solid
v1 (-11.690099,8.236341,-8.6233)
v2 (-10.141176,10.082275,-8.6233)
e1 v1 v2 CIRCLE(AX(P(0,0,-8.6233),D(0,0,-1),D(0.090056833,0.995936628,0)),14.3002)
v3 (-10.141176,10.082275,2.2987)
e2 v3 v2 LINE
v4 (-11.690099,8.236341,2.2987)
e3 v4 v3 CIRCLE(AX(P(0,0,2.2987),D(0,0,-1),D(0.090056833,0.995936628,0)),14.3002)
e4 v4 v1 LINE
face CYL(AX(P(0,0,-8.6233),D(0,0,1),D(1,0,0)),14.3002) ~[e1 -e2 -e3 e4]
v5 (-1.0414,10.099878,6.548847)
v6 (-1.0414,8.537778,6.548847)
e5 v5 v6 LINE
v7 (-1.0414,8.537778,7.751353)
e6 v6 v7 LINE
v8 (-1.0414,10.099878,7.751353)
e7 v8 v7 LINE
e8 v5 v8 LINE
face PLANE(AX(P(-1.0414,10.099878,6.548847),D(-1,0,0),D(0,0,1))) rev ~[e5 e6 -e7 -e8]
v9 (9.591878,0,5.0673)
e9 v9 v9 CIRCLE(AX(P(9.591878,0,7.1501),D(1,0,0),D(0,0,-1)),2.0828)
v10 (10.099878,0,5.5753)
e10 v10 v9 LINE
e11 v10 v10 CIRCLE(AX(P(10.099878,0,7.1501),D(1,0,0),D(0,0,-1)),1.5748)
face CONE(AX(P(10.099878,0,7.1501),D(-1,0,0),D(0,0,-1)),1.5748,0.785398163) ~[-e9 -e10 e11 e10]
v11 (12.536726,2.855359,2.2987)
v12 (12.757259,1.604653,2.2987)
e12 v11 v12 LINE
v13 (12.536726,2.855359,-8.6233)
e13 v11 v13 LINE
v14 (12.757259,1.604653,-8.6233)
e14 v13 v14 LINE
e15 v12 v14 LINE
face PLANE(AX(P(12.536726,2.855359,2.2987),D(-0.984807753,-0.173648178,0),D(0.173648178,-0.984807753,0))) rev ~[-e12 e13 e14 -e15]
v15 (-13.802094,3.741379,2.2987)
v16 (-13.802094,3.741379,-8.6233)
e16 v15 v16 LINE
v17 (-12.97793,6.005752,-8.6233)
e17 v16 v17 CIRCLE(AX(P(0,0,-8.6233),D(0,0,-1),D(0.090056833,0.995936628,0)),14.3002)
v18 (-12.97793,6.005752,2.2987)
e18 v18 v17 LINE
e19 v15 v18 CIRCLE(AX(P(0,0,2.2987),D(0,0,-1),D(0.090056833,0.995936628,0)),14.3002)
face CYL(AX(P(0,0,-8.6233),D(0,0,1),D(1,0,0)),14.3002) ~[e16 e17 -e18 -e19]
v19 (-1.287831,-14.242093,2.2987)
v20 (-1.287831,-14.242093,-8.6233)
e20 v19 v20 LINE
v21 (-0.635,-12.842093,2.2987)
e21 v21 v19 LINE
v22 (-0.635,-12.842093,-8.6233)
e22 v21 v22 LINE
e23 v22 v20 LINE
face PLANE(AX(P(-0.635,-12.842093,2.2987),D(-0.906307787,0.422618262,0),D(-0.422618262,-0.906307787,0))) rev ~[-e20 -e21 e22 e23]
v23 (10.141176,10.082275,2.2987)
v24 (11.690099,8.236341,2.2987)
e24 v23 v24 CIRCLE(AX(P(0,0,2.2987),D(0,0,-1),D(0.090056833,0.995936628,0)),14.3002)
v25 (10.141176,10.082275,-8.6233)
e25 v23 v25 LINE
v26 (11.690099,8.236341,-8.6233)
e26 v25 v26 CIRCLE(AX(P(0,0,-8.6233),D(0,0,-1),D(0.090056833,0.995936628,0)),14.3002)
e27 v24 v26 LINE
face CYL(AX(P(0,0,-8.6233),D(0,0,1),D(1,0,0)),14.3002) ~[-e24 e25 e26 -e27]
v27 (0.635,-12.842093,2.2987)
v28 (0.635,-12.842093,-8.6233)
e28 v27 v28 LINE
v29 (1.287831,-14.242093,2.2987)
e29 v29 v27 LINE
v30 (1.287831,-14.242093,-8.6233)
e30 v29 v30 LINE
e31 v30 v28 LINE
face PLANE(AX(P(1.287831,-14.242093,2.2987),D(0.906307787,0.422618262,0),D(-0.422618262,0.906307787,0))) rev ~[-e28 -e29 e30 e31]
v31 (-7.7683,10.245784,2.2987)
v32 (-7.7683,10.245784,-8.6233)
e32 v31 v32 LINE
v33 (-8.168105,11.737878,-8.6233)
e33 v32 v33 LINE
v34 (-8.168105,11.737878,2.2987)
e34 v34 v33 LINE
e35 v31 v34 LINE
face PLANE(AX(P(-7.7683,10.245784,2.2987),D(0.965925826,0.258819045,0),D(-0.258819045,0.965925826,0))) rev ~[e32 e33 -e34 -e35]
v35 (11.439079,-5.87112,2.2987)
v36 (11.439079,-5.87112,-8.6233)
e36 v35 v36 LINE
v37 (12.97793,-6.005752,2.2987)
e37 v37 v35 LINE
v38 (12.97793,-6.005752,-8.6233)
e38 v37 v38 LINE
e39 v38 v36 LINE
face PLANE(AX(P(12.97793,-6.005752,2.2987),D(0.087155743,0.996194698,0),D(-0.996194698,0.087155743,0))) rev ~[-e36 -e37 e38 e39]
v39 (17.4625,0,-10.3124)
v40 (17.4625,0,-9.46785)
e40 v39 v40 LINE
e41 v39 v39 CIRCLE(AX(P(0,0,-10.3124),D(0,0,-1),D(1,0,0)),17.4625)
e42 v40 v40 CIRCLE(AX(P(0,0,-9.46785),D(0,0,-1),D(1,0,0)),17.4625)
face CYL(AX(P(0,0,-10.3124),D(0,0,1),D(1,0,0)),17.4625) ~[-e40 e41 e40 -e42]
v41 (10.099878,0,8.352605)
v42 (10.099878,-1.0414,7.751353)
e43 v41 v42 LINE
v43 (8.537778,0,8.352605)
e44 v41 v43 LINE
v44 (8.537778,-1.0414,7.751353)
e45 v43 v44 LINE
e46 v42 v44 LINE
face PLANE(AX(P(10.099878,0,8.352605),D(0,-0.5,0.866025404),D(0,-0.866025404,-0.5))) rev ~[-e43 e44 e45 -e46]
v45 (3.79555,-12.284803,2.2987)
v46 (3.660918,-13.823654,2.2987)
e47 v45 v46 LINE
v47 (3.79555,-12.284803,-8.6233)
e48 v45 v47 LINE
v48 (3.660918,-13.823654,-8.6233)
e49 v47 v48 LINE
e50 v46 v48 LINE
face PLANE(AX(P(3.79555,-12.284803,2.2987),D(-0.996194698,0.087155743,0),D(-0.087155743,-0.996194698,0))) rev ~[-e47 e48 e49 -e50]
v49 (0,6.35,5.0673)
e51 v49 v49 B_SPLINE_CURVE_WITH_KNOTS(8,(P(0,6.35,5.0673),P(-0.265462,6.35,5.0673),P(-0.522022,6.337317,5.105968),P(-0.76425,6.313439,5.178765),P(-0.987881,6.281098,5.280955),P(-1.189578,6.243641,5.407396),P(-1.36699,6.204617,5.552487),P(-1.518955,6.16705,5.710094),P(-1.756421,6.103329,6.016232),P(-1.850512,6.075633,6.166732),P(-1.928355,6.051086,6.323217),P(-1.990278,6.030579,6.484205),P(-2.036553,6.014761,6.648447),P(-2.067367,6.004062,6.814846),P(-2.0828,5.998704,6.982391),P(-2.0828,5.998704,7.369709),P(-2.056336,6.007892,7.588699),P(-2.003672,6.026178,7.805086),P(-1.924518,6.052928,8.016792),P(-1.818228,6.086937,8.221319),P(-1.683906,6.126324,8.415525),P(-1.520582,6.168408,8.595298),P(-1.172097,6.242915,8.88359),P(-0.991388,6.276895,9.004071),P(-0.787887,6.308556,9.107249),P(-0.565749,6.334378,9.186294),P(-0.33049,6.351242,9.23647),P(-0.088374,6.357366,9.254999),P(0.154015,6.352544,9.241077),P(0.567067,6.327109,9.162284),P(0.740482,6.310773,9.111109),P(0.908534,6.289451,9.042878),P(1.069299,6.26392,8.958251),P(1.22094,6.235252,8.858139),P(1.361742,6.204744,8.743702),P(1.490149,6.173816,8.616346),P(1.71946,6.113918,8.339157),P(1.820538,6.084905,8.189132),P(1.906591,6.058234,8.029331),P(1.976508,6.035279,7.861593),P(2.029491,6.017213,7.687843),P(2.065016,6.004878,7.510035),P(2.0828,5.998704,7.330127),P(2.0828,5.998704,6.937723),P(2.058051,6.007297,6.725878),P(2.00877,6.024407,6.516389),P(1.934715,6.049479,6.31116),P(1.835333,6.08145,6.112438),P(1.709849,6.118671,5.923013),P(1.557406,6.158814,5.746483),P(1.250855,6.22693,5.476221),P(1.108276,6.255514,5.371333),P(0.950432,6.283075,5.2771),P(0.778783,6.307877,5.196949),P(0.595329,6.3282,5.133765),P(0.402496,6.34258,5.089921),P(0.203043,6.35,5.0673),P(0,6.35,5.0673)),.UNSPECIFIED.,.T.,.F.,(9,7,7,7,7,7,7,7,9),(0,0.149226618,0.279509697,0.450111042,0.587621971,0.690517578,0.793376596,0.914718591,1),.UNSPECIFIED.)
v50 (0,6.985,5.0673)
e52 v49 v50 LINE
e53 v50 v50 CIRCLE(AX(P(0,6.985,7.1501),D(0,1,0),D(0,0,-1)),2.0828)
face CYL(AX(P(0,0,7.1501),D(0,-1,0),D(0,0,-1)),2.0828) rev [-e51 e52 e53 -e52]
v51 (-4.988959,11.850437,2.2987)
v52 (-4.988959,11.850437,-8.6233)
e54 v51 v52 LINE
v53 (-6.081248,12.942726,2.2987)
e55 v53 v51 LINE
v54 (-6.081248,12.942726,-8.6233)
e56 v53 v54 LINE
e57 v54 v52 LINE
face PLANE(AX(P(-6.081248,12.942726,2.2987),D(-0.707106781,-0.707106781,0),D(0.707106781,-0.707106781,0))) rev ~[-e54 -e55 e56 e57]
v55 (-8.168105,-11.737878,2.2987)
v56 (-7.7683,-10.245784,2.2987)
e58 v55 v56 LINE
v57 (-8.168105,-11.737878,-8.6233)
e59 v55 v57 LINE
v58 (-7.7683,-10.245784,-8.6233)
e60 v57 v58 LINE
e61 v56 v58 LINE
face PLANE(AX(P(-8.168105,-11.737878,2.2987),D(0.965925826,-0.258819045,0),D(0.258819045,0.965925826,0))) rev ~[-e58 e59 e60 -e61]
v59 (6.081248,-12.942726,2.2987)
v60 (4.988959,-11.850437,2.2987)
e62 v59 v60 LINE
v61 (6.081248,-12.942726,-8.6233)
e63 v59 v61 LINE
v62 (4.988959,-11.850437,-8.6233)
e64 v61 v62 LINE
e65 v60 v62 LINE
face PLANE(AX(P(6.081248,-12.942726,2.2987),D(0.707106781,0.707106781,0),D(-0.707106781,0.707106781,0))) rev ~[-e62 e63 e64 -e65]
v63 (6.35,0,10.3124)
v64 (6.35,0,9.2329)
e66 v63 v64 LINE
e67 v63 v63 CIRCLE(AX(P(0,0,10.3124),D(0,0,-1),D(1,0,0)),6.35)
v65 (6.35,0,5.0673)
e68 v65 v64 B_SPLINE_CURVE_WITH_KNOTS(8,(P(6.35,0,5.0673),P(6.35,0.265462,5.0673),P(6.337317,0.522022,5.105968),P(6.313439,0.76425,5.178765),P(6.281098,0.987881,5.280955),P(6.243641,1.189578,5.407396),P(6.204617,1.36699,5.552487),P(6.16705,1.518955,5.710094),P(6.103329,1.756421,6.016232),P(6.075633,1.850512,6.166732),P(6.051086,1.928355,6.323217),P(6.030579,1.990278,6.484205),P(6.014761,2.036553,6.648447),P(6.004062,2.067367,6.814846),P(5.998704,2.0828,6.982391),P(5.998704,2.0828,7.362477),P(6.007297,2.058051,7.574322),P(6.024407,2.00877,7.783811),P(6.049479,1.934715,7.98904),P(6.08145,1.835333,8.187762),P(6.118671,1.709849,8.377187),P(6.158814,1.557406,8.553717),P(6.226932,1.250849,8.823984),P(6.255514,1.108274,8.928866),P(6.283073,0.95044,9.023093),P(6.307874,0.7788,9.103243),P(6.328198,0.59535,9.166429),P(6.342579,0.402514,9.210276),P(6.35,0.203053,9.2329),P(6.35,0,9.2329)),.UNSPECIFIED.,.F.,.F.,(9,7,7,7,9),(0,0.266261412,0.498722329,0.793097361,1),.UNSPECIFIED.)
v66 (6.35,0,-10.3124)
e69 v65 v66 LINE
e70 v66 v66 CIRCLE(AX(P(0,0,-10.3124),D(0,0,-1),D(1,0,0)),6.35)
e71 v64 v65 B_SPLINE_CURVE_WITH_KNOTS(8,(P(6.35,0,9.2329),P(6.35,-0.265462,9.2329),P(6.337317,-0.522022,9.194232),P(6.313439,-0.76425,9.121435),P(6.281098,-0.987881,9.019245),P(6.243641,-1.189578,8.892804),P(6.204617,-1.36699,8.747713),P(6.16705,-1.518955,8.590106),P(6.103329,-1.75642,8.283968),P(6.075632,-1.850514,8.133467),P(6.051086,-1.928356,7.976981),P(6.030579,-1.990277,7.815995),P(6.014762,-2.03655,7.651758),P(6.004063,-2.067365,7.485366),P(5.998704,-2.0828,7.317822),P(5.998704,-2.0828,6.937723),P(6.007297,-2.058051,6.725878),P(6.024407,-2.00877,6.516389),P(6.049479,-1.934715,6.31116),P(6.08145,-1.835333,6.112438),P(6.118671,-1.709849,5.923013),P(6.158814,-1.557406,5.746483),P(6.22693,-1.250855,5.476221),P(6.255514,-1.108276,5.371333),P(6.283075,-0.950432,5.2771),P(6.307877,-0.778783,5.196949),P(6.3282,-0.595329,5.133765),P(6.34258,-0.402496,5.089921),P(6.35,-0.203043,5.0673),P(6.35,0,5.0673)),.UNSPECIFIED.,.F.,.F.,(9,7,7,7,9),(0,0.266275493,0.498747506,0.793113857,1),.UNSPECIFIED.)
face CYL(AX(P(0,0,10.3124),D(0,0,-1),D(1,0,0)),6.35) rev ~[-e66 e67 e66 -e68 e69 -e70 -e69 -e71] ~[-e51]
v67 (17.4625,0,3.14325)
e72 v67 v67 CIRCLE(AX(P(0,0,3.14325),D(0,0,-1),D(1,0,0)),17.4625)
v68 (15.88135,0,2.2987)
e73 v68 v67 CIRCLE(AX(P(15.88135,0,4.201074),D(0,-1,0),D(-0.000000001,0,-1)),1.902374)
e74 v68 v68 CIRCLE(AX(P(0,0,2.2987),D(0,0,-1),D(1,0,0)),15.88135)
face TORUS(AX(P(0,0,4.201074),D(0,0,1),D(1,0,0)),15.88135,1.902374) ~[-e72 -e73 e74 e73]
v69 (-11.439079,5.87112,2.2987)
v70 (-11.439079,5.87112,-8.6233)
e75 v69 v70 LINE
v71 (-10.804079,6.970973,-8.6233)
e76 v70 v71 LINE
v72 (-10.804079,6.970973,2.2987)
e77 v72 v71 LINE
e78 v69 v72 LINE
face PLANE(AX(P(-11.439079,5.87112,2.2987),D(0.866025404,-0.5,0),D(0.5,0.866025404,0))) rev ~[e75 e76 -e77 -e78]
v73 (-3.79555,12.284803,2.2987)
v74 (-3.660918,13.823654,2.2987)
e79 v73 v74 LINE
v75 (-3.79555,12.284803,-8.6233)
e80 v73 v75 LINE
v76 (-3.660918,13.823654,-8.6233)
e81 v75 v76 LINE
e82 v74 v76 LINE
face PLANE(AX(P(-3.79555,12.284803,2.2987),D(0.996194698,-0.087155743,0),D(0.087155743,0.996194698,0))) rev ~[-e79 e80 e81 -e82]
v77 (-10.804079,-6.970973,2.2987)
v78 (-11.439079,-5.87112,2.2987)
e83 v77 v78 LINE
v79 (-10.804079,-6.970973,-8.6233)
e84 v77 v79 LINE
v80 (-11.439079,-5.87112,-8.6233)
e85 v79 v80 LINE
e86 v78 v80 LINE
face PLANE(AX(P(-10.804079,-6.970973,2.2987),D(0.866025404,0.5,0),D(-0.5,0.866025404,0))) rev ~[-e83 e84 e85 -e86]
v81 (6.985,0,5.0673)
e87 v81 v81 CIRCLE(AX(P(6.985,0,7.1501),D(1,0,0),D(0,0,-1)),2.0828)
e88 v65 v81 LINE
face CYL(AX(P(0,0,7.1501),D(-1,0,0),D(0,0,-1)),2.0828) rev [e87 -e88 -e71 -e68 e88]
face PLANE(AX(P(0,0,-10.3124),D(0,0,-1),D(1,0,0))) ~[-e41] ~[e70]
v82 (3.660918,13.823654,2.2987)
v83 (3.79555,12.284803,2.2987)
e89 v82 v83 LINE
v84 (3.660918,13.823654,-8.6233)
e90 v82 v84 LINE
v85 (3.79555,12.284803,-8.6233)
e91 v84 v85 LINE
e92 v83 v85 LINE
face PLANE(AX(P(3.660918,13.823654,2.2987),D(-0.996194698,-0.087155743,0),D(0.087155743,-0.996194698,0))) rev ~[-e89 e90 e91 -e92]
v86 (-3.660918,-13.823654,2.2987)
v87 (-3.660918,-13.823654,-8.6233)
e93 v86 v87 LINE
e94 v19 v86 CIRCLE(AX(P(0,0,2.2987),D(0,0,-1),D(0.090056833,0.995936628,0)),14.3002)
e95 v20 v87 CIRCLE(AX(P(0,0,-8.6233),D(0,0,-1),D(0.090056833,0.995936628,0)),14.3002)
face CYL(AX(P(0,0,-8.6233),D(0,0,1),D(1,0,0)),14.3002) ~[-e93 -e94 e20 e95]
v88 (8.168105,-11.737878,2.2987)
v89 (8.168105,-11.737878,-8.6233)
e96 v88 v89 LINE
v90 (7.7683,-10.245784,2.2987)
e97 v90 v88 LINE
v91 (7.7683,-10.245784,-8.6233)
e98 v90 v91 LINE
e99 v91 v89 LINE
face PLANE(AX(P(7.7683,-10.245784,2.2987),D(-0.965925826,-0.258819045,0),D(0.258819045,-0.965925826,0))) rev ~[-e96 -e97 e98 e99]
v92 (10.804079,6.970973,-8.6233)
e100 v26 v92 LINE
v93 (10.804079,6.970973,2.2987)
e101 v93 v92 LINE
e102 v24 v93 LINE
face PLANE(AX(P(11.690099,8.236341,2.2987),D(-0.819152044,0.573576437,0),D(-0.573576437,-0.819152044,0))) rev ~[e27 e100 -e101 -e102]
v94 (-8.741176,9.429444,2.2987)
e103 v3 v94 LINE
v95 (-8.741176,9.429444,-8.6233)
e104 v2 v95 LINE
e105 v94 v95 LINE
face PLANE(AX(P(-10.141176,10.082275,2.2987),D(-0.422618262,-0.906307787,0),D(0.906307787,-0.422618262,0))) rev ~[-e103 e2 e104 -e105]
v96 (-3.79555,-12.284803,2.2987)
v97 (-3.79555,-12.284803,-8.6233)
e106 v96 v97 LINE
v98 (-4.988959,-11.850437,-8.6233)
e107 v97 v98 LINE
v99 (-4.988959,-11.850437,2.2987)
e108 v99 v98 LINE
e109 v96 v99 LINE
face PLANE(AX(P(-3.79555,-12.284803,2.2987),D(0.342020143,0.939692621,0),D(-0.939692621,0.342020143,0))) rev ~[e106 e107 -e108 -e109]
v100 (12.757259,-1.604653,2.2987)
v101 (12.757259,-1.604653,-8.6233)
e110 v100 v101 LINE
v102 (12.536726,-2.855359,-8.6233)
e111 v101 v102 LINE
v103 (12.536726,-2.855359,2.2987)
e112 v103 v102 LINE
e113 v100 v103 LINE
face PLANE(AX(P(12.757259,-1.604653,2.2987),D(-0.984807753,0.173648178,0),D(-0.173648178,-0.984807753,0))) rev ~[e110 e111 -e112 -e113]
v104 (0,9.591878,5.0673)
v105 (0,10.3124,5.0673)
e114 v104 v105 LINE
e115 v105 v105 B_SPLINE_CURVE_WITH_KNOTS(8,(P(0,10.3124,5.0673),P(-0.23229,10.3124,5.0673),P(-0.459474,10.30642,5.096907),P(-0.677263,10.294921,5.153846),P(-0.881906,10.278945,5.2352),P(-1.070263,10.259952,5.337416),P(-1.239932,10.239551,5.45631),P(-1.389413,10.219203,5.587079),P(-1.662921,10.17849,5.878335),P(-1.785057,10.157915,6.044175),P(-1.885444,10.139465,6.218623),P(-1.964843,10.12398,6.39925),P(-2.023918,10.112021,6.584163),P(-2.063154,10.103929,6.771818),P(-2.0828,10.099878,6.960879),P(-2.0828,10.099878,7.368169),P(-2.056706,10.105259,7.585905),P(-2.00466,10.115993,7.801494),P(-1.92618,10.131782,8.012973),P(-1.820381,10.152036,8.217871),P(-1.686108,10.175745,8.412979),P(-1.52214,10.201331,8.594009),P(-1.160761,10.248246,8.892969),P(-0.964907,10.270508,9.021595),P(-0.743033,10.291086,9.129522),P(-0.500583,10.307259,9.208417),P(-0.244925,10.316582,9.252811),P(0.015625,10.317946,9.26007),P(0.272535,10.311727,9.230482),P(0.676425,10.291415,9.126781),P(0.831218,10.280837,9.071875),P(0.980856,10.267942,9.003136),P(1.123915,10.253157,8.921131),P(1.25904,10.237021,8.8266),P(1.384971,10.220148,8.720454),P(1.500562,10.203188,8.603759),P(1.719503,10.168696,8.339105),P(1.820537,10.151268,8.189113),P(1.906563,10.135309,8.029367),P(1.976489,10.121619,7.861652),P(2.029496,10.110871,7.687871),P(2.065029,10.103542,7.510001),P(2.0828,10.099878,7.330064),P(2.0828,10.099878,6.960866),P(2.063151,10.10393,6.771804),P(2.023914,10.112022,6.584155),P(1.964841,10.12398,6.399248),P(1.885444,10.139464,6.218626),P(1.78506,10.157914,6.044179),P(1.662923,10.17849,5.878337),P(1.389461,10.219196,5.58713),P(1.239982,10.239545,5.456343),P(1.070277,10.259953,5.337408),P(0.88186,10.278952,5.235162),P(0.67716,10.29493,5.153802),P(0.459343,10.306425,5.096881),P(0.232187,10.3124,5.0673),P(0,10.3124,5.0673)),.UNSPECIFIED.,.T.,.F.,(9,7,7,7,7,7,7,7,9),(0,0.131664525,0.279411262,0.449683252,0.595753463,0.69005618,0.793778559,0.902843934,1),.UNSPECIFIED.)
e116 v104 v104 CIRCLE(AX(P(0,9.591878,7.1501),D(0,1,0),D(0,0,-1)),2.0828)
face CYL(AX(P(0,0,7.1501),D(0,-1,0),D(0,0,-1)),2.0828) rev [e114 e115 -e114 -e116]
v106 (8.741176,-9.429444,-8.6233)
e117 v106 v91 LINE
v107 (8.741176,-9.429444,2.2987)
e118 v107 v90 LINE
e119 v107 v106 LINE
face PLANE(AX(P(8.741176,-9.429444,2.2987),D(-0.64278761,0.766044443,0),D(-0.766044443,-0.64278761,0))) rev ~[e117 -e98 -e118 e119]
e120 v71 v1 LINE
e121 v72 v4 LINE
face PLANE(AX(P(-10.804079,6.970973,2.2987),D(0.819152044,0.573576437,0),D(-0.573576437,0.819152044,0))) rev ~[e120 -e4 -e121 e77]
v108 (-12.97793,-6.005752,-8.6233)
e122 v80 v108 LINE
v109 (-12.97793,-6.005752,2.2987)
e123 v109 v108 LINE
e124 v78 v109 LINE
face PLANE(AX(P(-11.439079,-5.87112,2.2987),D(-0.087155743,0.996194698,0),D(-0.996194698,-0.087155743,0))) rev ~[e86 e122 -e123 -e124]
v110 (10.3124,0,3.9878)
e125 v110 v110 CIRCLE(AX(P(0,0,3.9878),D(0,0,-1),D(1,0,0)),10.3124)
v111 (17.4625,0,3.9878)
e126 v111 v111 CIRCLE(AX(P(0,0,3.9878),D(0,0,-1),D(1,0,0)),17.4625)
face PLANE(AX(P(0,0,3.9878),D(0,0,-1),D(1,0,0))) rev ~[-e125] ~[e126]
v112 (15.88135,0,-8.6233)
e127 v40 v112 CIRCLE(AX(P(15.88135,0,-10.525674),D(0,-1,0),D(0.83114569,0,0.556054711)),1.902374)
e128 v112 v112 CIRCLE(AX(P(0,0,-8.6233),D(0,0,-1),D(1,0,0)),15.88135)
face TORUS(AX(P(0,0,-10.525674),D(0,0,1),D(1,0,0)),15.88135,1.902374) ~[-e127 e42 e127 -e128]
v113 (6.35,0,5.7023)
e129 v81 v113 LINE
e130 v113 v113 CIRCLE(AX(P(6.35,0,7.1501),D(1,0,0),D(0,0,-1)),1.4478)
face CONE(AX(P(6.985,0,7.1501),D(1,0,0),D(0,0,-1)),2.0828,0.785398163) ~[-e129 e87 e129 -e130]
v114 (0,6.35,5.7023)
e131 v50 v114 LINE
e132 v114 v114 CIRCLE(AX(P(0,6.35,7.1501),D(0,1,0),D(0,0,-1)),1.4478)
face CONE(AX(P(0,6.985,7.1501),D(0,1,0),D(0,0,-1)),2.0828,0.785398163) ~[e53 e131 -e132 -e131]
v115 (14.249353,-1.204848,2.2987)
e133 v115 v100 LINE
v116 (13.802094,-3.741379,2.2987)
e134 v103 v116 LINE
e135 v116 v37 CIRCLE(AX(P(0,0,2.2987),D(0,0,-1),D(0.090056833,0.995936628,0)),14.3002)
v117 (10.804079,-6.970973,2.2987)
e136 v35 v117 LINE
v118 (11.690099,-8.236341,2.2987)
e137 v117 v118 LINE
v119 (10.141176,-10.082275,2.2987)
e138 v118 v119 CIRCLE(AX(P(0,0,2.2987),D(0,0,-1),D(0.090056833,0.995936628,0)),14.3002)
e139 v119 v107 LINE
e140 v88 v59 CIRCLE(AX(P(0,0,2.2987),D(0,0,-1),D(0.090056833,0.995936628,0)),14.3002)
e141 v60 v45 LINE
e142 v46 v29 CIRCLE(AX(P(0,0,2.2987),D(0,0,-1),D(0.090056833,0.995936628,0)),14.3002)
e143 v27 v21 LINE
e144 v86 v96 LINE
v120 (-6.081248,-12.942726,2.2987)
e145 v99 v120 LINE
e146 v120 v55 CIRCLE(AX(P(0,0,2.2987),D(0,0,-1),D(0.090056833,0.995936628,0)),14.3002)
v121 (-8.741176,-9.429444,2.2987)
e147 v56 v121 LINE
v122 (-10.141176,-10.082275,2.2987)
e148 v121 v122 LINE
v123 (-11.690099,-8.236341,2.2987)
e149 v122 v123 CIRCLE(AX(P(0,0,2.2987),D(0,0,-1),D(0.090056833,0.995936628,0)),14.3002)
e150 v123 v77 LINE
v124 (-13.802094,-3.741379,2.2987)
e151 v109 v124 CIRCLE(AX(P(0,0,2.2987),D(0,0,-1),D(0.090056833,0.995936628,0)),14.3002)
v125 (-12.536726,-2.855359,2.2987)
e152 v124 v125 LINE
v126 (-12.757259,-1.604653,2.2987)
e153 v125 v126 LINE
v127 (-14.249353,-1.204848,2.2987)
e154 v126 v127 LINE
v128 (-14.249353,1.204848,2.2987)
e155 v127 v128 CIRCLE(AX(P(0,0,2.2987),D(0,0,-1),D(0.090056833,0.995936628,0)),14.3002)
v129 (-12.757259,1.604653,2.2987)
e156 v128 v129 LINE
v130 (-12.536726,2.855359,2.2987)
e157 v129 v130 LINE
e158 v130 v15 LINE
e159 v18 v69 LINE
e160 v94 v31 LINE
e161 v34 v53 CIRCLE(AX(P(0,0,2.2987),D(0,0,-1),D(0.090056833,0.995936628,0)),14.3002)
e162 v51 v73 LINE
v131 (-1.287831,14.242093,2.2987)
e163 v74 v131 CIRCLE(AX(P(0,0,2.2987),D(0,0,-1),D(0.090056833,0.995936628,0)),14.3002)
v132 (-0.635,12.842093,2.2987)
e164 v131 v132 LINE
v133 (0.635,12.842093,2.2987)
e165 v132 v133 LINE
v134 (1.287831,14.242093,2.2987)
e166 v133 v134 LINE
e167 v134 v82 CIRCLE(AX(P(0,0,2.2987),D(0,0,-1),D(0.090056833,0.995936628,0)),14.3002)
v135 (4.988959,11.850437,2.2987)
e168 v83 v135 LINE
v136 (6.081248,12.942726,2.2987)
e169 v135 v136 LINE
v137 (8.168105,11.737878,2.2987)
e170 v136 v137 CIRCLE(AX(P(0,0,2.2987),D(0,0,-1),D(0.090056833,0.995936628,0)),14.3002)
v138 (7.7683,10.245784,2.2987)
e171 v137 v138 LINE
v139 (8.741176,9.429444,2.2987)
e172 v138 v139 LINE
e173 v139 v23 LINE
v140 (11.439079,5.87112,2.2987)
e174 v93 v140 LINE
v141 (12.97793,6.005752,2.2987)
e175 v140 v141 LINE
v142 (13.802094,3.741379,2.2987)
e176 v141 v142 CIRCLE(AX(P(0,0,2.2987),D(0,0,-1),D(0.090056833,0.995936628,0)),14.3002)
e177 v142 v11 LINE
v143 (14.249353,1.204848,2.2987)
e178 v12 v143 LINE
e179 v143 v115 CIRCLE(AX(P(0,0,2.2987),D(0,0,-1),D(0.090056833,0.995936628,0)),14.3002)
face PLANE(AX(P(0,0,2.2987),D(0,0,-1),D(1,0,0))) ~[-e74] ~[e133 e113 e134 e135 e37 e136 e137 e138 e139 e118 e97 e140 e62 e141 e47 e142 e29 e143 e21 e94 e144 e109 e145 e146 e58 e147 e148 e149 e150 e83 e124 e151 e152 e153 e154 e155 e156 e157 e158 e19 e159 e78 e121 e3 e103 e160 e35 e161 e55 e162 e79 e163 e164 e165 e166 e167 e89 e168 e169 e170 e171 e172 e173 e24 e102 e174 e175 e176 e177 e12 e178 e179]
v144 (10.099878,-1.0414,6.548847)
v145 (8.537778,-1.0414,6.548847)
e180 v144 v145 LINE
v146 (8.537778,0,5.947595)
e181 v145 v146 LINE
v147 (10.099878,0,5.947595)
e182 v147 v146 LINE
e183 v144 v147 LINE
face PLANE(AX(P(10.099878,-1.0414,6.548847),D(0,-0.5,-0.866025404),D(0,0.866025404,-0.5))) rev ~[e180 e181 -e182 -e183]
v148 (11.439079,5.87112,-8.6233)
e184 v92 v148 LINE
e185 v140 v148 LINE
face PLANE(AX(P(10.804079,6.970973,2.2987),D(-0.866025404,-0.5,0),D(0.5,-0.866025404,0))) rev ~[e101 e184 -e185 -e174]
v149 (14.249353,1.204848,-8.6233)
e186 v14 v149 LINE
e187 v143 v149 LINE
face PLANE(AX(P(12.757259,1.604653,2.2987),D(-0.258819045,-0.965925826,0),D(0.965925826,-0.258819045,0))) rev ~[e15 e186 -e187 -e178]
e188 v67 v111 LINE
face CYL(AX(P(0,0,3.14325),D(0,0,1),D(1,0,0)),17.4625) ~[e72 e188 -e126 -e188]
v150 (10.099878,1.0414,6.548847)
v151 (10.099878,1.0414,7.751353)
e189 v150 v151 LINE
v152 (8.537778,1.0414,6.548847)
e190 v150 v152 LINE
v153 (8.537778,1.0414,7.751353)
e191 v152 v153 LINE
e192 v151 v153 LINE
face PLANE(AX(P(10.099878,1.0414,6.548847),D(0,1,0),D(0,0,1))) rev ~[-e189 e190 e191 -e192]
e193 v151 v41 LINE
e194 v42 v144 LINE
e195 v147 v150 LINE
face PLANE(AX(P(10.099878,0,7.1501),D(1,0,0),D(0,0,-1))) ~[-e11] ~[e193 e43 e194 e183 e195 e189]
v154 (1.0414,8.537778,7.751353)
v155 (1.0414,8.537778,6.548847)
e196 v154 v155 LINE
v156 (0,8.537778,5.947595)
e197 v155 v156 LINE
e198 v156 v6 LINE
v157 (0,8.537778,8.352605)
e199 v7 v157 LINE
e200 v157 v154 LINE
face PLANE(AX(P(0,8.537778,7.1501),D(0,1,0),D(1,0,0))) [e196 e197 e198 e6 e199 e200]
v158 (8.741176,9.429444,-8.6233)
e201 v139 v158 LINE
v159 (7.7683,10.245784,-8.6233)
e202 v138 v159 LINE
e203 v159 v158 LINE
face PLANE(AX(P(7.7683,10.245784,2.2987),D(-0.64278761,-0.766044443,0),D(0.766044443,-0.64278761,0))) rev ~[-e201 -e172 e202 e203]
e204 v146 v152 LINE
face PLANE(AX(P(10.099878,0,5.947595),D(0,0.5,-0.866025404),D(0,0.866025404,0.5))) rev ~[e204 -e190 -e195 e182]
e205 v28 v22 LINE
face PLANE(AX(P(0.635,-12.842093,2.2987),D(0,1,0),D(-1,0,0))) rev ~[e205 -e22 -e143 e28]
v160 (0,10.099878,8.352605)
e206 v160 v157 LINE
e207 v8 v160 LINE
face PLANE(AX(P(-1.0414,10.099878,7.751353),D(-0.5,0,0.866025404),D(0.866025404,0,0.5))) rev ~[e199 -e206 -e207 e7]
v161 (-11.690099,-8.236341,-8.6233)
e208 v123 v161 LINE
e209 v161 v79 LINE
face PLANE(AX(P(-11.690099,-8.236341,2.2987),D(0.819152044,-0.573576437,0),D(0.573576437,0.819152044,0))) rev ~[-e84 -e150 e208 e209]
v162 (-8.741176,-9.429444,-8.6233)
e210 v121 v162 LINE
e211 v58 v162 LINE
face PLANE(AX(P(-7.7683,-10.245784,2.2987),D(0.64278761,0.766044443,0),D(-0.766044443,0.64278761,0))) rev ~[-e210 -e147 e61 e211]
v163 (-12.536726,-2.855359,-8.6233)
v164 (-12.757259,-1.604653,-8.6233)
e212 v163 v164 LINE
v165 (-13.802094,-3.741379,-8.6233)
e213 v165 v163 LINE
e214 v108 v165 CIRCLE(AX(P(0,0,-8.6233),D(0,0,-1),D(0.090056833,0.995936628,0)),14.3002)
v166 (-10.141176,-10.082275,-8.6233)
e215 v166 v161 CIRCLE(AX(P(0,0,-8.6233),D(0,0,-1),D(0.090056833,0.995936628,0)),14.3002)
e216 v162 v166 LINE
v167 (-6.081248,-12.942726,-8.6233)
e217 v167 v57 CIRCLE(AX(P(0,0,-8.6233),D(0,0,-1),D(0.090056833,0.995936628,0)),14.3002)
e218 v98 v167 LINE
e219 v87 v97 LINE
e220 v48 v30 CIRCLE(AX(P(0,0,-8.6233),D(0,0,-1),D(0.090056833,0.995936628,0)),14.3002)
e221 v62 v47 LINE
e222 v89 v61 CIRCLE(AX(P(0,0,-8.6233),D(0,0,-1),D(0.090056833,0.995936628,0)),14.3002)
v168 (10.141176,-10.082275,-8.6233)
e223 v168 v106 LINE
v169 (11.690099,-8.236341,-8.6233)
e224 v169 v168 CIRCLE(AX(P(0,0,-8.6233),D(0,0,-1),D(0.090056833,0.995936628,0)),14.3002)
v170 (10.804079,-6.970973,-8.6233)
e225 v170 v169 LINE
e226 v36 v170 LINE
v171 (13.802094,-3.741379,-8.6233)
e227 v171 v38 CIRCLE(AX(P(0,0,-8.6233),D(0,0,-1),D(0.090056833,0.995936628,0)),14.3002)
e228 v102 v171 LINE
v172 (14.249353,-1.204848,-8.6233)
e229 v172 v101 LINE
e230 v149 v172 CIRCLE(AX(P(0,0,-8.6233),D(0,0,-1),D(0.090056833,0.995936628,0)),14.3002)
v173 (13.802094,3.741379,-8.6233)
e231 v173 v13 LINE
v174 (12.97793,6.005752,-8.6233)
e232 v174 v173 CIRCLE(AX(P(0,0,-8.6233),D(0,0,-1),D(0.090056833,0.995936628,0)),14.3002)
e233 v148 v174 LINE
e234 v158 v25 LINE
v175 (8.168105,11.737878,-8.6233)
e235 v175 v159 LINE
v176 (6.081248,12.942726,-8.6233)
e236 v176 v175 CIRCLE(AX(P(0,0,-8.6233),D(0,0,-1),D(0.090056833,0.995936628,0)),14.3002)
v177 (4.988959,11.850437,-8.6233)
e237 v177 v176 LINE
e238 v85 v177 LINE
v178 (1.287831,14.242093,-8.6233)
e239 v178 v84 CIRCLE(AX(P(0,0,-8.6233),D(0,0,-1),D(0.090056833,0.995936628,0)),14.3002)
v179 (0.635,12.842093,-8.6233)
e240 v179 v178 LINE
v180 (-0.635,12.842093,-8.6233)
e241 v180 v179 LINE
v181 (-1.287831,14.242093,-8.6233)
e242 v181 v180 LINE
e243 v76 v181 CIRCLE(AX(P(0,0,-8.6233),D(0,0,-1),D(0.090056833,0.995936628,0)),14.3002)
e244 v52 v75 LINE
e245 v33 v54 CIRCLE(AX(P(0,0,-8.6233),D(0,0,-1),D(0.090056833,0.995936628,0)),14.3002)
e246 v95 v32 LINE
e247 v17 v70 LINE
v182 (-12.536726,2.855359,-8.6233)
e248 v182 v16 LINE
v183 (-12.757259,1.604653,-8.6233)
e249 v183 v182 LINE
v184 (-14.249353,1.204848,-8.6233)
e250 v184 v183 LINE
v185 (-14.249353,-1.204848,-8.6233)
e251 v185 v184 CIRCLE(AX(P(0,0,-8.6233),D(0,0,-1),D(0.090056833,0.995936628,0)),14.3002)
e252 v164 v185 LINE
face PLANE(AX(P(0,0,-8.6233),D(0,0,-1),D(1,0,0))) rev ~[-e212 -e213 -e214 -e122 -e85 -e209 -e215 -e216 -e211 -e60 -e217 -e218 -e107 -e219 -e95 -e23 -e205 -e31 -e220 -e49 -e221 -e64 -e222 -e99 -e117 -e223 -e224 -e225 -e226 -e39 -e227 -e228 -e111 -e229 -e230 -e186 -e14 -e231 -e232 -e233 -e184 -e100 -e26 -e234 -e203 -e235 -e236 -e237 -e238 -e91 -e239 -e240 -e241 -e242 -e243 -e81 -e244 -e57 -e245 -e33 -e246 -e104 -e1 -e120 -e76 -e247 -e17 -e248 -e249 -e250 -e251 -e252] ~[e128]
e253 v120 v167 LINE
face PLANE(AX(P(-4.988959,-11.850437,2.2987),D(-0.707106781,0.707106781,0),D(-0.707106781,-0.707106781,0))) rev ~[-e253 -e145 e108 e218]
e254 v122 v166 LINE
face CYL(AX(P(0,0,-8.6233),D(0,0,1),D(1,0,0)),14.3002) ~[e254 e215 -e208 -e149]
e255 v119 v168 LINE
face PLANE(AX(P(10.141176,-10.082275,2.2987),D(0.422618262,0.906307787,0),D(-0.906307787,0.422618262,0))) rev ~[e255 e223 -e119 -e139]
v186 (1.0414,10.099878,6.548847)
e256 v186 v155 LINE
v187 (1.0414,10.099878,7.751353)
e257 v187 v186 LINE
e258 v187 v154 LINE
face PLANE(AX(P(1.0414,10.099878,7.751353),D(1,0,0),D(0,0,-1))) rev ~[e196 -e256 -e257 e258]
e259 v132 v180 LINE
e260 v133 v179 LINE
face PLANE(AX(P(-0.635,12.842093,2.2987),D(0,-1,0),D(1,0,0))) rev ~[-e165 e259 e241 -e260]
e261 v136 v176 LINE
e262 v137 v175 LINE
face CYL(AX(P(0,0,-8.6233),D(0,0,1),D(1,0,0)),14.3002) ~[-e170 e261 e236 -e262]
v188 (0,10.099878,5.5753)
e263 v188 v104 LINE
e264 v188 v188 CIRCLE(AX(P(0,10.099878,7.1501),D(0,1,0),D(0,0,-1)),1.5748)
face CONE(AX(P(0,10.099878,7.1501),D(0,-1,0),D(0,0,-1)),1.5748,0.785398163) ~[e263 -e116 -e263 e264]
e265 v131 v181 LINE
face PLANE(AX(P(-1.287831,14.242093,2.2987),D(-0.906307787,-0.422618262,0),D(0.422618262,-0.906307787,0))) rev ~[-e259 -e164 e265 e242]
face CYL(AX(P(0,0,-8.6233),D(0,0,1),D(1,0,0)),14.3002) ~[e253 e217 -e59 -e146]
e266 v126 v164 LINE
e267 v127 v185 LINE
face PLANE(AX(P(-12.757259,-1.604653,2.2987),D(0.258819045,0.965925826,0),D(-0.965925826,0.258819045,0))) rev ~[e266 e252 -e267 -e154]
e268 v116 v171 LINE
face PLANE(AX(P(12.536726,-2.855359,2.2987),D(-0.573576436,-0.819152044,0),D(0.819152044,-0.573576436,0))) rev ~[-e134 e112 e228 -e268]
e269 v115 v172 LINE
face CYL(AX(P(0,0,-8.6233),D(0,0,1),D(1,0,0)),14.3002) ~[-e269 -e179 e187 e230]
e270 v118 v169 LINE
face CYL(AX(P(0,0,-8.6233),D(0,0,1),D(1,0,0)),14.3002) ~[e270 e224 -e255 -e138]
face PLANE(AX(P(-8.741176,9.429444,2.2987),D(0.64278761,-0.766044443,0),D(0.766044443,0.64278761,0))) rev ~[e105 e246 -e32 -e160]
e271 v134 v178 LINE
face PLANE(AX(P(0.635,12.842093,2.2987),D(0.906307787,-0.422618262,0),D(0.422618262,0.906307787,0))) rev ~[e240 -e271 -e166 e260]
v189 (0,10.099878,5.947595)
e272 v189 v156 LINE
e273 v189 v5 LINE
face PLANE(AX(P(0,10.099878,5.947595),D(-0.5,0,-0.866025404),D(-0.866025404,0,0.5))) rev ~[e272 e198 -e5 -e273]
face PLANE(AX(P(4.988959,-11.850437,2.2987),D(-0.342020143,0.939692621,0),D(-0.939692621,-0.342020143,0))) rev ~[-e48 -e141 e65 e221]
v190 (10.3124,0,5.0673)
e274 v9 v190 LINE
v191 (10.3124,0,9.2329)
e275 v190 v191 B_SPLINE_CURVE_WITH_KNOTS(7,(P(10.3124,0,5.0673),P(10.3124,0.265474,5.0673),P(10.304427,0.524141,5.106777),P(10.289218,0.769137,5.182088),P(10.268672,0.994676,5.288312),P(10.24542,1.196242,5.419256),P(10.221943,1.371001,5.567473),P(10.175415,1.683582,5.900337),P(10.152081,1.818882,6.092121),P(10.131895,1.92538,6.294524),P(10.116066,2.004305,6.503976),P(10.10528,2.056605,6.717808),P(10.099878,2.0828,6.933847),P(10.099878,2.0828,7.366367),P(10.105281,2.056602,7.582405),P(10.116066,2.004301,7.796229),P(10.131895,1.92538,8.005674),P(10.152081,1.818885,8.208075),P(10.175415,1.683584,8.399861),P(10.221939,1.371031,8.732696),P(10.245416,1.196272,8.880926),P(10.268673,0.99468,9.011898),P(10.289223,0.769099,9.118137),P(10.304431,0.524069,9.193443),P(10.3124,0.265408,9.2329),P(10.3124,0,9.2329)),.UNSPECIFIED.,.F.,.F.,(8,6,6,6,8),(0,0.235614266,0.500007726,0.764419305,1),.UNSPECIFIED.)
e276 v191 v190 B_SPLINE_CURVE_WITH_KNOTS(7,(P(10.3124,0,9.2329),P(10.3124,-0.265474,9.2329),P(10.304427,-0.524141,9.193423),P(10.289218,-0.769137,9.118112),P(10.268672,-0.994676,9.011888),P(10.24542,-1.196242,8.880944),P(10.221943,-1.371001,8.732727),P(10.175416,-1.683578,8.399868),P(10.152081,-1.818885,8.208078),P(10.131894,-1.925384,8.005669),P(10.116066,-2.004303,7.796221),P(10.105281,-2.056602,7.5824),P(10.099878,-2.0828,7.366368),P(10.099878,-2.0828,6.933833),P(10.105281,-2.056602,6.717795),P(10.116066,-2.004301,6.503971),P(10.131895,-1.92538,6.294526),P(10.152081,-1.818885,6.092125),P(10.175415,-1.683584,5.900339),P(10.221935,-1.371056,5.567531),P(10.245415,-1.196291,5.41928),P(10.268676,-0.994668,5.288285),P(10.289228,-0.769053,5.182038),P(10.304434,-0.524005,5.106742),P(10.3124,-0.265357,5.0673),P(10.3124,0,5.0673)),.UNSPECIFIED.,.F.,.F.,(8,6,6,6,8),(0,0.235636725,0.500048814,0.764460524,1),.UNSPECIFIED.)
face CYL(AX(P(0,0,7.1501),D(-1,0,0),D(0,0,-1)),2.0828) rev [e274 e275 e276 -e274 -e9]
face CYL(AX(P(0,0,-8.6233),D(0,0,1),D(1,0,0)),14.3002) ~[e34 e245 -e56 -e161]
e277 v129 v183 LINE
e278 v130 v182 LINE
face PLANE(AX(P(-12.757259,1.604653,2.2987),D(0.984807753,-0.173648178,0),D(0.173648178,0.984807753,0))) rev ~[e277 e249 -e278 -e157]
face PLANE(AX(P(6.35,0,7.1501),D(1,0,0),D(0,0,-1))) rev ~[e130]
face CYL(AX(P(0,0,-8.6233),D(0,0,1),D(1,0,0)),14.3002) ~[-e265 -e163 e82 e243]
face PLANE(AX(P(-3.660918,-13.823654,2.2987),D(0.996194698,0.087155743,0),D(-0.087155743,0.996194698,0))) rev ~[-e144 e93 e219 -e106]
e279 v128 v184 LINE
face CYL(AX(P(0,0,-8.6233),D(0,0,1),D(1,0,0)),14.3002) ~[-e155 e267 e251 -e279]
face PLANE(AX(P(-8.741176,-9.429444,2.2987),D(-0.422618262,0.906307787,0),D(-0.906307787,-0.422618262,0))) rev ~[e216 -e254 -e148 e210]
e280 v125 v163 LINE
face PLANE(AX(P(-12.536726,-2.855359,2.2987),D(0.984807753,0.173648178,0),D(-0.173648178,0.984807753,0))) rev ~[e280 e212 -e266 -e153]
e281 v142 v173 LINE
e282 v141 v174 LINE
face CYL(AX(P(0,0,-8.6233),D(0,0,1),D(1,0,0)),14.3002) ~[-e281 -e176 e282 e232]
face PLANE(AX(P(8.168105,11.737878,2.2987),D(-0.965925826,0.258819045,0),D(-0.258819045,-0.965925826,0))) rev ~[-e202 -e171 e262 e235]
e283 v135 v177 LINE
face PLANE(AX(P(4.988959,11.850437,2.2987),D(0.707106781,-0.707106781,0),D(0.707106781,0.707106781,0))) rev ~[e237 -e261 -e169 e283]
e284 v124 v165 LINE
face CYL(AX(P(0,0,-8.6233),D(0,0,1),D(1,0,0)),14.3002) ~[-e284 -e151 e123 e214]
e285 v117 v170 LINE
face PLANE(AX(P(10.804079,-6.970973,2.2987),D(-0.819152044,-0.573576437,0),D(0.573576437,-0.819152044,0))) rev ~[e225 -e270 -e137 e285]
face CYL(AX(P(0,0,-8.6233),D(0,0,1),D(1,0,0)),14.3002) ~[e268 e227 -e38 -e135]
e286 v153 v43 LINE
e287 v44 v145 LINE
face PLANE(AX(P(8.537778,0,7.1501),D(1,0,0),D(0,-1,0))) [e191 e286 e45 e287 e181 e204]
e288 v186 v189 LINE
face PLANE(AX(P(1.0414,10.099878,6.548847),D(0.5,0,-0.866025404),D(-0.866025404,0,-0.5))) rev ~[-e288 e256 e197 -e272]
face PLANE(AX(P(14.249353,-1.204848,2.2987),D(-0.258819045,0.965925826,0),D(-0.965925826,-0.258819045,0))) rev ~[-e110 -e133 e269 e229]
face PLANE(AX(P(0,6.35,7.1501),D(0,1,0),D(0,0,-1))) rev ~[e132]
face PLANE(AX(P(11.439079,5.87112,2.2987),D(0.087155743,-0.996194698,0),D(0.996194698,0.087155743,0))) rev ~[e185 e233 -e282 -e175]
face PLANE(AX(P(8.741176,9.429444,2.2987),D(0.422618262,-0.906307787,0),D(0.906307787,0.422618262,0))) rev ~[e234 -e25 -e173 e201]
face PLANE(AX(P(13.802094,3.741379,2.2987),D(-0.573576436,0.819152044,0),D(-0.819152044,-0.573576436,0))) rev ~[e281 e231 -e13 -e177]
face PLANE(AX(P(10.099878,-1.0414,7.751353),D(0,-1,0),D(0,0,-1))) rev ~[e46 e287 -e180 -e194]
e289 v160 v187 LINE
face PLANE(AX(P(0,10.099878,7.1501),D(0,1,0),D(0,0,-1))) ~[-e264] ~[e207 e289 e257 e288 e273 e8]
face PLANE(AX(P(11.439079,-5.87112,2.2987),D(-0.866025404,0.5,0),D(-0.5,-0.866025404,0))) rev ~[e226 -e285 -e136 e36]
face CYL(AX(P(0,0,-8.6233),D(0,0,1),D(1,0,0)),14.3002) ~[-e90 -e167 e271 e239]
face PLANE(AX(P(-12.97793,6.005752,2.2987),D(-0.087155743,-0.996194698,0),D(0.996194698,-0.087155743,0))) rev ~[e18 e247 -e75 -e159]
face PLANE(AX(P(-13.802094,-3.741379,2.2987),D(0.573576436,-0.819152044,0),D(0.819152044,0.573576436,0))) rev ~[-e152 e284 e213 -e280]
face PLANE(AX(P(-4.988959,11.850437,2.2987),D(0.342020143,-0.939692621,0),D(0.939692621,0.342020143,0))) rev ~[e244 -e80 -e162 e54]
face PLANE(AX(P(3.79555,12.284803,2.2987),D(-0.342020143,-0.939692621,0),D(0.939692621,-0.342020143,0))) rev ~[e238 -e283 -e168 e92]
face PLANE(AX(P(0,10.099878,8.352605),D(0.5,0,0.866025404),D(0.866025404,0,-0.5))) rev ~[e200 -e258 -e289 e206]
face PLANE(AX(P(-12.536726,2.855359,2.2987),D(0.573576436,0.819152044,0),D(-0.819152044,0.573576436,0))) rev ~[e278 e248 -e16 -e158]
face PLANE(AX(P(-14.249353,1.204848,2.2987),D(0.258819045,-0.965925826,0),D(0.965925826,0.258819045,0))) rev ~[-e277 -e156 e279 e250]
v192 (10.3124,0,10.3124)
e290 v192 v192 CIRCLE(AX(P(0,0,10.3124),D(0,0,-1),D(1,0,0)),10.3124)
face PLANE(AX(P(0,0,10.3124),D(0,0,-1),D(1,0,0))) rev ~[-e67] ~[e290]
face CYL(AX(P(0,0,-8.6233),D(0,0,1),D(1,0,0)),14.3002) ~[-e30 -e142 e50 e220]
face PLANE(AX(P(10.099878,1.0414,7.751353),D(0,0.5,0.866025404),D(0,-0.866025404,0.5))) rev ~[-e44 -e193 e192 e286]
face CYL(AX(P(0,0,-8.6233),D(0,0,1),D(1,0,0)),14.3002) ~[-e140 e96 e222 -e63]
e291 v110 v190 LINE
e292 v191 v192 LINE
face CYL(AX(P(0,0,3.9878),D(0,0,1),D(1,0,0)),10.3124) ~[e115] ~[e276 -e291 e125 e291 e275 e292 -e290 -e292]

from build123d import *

# Parameters (mm, degrees)
CUT_EXTRUDE1_START = 2.2987
CUT_EXTRUDE1_DEPTH = 10.922
CIRPATTERN1_COUNT  = 18
SKETCH4_R          = 2.0828
CUT_EXTRUDE2_DEPTH = 27.762350537
CUT_EXTRUDE3_DEPTH = 1.5621
CIRPATTERN2_COUNT  = 2
CIRPATTERN2_ANGLE  = 90


with BuildPart() as part:
    # Sketch2 → Revolve1 (revolve)
    with BuildSketch(Plane(origin=(0, 0, 0), x_dir=(0, 0, -1), z_dir=(1, 0, 0)), mode=Mode.PRIVATE) as revolve1_sk:
        with BuildLine():
            Line((-10.3124, 6.35), (10.3124, 6.35))
            Line((10.3124, 6.35), (10.3124, 17.4625))
            Line((10.3124, 17.4625), (9.46785, 17.4625))
            ThreePointArc((9.46785, 17.4625), (8.847668679, 16.777633999), (8.6233, 15.88135))
            Line((8.6233, 15.88135), (8.6233, 14.3002))
            Line((8.6233, 14.3002), (-2.2987, 14.3002))
            Line((-2.2987, 14.3002), (-2.2987, 15.88135))
            ThreePointArc((-2.2987, 15.88135), (-2.523068679, 16.777633999), (-3.14325, 17.4625))
            Line((-3.14325, 17.4625), (-3.9878, 17.4625))
            Line((-3.9878, 17.4625), (-3.9878, 10.3124))
            Line((-3.9878, 10.3124), (-10.3124, 10.3124))
            Line((-10.3124, 10.3124), (-10.3124, 6.35))
        make_face()
    revolve(revolve1_sk.sketch.rotate(Axis((0, 0, 10.3124), (0, 0, -1)), 90), axis=Axis((0, 0, 10.3124), (0, 0, -1)))

    # Sketch3 → Cut-Extrude1 (cut)
    with BuildSketch(Plane.XY.offset(CUT_EXTRUDE1_START)):
        with BuildLine():
            Line((-0.635, 12.842092967), (0.635, 12.842092967))
            Line((0.635, 12.842092967), (1.287830721, 14.242092967))
            ThreePointArc((1.287830721, 14.242092967), (0, 14.3002), (-1.287830721, 14.242092967))
            Line((-1.287830721, 14.242092967), (-0.635, 12.842092967))
        make_face()
    cut_extrude1 = extrude(amount=-CUT_EXTRUDE1_DEPTH, mode=Mode.SUBTRACT)

    # CirPattern1: Cut-Extrude1 ×18 about axis
    cirpattern1_axis = Axis((0, 0, 0), (0, 0, 1))
    for i in range(1, CIRPATTERN1_COUNT):
        add(cut_extrude1.rotate(cirpattern1_axis, i * 360 / CIRPATTERN1_COUNT), mode=Mode.SUBTRACT)

    # Sketch4 → Cut-Extrude2 (cut, through all)
    with BuildSketch(Plane(origin=(0, 0, 0), x_dir=(1, 0, 0), z_dir=(0, 1, 0))):
        with Locations(Location((0, -7.1501, 0), (0, 0, 90))):
            Circle(SKETCH4_R)
    cut_extrude2 = extrude(amount=CUT_EXTRUDE2_DEPTH, mode=Mode.SUBTRACT)

    # Sketch5 → Revolve2 (revolve)
    with BuildSketch(Plane.XY.offset(7.1501), mode=Mode.PRIVATE) as revolve2_sk:
        Polygon((1.5748, 10.099878114), (2.0828, 9.591878114), (2.0828, 6.985), (1.4478, 6.35), (0, 6.35), (0, 10.099878114), align=None)
    revolve2 = revolve(revolve2_sk.sketch.rotate(Axis((0, 0, 7.1501), (0, 1, 0)), 90), axis=Axis((0, 0, 7.1501), (0, 1, 0)))

    # Sketch6 → Cut-Extrude3 (cut)
    with BuildSketch(Plane(origin=(0, 10.099878114, 0), x_dir=(1, 0, 0), z_dir=(0, 1, 0))):
        Polygon((0, -5.947594859), (-1.0414, -6.54884743), (-1.0414, -7.75135257), (0, -8.352605141), (1.0414, -7.75135257), (1.0414, -6.54884743), align=None)
    cut_extrude3 = extrude(amount=-CUT_EXTRUDE3_DEPTH, mode=Mode.SUBTRACT)

    # CirPattern2: Cut-Extrude2, Revolve2, Cut-Extrude3 ×2 about axis
    cirpattern2_axis = Axis((0, 0, 0), (0, 0, -1))
    add([cut_extrude2.rotate(cirpattern2_axis, i * CIRPATTERN2_ANGLE / (CIRPATTERN2_COUNT - 1)) for i in range(1, CIRPATTERN2_COUNT)], mode=Mode.SUBTRACT)
    add([revolve2.rotate(cirpattern2_axis, i * CIRPATTERN2_ANGLE / (CIRPATTERN2_COUNT - 1)) for i in range(1, CIRPATTERN2_COUNT)])
    add([cut_extrude3.rotate(cirpattern2_axis, i * CIRPATTERN2_ANGLE / (CIRPATTERN2_COUNT - 1)) for i in range(1, CIRPATTERN2_COUNT)], mode=Mode.SUBTRACT)


solid = part.part
